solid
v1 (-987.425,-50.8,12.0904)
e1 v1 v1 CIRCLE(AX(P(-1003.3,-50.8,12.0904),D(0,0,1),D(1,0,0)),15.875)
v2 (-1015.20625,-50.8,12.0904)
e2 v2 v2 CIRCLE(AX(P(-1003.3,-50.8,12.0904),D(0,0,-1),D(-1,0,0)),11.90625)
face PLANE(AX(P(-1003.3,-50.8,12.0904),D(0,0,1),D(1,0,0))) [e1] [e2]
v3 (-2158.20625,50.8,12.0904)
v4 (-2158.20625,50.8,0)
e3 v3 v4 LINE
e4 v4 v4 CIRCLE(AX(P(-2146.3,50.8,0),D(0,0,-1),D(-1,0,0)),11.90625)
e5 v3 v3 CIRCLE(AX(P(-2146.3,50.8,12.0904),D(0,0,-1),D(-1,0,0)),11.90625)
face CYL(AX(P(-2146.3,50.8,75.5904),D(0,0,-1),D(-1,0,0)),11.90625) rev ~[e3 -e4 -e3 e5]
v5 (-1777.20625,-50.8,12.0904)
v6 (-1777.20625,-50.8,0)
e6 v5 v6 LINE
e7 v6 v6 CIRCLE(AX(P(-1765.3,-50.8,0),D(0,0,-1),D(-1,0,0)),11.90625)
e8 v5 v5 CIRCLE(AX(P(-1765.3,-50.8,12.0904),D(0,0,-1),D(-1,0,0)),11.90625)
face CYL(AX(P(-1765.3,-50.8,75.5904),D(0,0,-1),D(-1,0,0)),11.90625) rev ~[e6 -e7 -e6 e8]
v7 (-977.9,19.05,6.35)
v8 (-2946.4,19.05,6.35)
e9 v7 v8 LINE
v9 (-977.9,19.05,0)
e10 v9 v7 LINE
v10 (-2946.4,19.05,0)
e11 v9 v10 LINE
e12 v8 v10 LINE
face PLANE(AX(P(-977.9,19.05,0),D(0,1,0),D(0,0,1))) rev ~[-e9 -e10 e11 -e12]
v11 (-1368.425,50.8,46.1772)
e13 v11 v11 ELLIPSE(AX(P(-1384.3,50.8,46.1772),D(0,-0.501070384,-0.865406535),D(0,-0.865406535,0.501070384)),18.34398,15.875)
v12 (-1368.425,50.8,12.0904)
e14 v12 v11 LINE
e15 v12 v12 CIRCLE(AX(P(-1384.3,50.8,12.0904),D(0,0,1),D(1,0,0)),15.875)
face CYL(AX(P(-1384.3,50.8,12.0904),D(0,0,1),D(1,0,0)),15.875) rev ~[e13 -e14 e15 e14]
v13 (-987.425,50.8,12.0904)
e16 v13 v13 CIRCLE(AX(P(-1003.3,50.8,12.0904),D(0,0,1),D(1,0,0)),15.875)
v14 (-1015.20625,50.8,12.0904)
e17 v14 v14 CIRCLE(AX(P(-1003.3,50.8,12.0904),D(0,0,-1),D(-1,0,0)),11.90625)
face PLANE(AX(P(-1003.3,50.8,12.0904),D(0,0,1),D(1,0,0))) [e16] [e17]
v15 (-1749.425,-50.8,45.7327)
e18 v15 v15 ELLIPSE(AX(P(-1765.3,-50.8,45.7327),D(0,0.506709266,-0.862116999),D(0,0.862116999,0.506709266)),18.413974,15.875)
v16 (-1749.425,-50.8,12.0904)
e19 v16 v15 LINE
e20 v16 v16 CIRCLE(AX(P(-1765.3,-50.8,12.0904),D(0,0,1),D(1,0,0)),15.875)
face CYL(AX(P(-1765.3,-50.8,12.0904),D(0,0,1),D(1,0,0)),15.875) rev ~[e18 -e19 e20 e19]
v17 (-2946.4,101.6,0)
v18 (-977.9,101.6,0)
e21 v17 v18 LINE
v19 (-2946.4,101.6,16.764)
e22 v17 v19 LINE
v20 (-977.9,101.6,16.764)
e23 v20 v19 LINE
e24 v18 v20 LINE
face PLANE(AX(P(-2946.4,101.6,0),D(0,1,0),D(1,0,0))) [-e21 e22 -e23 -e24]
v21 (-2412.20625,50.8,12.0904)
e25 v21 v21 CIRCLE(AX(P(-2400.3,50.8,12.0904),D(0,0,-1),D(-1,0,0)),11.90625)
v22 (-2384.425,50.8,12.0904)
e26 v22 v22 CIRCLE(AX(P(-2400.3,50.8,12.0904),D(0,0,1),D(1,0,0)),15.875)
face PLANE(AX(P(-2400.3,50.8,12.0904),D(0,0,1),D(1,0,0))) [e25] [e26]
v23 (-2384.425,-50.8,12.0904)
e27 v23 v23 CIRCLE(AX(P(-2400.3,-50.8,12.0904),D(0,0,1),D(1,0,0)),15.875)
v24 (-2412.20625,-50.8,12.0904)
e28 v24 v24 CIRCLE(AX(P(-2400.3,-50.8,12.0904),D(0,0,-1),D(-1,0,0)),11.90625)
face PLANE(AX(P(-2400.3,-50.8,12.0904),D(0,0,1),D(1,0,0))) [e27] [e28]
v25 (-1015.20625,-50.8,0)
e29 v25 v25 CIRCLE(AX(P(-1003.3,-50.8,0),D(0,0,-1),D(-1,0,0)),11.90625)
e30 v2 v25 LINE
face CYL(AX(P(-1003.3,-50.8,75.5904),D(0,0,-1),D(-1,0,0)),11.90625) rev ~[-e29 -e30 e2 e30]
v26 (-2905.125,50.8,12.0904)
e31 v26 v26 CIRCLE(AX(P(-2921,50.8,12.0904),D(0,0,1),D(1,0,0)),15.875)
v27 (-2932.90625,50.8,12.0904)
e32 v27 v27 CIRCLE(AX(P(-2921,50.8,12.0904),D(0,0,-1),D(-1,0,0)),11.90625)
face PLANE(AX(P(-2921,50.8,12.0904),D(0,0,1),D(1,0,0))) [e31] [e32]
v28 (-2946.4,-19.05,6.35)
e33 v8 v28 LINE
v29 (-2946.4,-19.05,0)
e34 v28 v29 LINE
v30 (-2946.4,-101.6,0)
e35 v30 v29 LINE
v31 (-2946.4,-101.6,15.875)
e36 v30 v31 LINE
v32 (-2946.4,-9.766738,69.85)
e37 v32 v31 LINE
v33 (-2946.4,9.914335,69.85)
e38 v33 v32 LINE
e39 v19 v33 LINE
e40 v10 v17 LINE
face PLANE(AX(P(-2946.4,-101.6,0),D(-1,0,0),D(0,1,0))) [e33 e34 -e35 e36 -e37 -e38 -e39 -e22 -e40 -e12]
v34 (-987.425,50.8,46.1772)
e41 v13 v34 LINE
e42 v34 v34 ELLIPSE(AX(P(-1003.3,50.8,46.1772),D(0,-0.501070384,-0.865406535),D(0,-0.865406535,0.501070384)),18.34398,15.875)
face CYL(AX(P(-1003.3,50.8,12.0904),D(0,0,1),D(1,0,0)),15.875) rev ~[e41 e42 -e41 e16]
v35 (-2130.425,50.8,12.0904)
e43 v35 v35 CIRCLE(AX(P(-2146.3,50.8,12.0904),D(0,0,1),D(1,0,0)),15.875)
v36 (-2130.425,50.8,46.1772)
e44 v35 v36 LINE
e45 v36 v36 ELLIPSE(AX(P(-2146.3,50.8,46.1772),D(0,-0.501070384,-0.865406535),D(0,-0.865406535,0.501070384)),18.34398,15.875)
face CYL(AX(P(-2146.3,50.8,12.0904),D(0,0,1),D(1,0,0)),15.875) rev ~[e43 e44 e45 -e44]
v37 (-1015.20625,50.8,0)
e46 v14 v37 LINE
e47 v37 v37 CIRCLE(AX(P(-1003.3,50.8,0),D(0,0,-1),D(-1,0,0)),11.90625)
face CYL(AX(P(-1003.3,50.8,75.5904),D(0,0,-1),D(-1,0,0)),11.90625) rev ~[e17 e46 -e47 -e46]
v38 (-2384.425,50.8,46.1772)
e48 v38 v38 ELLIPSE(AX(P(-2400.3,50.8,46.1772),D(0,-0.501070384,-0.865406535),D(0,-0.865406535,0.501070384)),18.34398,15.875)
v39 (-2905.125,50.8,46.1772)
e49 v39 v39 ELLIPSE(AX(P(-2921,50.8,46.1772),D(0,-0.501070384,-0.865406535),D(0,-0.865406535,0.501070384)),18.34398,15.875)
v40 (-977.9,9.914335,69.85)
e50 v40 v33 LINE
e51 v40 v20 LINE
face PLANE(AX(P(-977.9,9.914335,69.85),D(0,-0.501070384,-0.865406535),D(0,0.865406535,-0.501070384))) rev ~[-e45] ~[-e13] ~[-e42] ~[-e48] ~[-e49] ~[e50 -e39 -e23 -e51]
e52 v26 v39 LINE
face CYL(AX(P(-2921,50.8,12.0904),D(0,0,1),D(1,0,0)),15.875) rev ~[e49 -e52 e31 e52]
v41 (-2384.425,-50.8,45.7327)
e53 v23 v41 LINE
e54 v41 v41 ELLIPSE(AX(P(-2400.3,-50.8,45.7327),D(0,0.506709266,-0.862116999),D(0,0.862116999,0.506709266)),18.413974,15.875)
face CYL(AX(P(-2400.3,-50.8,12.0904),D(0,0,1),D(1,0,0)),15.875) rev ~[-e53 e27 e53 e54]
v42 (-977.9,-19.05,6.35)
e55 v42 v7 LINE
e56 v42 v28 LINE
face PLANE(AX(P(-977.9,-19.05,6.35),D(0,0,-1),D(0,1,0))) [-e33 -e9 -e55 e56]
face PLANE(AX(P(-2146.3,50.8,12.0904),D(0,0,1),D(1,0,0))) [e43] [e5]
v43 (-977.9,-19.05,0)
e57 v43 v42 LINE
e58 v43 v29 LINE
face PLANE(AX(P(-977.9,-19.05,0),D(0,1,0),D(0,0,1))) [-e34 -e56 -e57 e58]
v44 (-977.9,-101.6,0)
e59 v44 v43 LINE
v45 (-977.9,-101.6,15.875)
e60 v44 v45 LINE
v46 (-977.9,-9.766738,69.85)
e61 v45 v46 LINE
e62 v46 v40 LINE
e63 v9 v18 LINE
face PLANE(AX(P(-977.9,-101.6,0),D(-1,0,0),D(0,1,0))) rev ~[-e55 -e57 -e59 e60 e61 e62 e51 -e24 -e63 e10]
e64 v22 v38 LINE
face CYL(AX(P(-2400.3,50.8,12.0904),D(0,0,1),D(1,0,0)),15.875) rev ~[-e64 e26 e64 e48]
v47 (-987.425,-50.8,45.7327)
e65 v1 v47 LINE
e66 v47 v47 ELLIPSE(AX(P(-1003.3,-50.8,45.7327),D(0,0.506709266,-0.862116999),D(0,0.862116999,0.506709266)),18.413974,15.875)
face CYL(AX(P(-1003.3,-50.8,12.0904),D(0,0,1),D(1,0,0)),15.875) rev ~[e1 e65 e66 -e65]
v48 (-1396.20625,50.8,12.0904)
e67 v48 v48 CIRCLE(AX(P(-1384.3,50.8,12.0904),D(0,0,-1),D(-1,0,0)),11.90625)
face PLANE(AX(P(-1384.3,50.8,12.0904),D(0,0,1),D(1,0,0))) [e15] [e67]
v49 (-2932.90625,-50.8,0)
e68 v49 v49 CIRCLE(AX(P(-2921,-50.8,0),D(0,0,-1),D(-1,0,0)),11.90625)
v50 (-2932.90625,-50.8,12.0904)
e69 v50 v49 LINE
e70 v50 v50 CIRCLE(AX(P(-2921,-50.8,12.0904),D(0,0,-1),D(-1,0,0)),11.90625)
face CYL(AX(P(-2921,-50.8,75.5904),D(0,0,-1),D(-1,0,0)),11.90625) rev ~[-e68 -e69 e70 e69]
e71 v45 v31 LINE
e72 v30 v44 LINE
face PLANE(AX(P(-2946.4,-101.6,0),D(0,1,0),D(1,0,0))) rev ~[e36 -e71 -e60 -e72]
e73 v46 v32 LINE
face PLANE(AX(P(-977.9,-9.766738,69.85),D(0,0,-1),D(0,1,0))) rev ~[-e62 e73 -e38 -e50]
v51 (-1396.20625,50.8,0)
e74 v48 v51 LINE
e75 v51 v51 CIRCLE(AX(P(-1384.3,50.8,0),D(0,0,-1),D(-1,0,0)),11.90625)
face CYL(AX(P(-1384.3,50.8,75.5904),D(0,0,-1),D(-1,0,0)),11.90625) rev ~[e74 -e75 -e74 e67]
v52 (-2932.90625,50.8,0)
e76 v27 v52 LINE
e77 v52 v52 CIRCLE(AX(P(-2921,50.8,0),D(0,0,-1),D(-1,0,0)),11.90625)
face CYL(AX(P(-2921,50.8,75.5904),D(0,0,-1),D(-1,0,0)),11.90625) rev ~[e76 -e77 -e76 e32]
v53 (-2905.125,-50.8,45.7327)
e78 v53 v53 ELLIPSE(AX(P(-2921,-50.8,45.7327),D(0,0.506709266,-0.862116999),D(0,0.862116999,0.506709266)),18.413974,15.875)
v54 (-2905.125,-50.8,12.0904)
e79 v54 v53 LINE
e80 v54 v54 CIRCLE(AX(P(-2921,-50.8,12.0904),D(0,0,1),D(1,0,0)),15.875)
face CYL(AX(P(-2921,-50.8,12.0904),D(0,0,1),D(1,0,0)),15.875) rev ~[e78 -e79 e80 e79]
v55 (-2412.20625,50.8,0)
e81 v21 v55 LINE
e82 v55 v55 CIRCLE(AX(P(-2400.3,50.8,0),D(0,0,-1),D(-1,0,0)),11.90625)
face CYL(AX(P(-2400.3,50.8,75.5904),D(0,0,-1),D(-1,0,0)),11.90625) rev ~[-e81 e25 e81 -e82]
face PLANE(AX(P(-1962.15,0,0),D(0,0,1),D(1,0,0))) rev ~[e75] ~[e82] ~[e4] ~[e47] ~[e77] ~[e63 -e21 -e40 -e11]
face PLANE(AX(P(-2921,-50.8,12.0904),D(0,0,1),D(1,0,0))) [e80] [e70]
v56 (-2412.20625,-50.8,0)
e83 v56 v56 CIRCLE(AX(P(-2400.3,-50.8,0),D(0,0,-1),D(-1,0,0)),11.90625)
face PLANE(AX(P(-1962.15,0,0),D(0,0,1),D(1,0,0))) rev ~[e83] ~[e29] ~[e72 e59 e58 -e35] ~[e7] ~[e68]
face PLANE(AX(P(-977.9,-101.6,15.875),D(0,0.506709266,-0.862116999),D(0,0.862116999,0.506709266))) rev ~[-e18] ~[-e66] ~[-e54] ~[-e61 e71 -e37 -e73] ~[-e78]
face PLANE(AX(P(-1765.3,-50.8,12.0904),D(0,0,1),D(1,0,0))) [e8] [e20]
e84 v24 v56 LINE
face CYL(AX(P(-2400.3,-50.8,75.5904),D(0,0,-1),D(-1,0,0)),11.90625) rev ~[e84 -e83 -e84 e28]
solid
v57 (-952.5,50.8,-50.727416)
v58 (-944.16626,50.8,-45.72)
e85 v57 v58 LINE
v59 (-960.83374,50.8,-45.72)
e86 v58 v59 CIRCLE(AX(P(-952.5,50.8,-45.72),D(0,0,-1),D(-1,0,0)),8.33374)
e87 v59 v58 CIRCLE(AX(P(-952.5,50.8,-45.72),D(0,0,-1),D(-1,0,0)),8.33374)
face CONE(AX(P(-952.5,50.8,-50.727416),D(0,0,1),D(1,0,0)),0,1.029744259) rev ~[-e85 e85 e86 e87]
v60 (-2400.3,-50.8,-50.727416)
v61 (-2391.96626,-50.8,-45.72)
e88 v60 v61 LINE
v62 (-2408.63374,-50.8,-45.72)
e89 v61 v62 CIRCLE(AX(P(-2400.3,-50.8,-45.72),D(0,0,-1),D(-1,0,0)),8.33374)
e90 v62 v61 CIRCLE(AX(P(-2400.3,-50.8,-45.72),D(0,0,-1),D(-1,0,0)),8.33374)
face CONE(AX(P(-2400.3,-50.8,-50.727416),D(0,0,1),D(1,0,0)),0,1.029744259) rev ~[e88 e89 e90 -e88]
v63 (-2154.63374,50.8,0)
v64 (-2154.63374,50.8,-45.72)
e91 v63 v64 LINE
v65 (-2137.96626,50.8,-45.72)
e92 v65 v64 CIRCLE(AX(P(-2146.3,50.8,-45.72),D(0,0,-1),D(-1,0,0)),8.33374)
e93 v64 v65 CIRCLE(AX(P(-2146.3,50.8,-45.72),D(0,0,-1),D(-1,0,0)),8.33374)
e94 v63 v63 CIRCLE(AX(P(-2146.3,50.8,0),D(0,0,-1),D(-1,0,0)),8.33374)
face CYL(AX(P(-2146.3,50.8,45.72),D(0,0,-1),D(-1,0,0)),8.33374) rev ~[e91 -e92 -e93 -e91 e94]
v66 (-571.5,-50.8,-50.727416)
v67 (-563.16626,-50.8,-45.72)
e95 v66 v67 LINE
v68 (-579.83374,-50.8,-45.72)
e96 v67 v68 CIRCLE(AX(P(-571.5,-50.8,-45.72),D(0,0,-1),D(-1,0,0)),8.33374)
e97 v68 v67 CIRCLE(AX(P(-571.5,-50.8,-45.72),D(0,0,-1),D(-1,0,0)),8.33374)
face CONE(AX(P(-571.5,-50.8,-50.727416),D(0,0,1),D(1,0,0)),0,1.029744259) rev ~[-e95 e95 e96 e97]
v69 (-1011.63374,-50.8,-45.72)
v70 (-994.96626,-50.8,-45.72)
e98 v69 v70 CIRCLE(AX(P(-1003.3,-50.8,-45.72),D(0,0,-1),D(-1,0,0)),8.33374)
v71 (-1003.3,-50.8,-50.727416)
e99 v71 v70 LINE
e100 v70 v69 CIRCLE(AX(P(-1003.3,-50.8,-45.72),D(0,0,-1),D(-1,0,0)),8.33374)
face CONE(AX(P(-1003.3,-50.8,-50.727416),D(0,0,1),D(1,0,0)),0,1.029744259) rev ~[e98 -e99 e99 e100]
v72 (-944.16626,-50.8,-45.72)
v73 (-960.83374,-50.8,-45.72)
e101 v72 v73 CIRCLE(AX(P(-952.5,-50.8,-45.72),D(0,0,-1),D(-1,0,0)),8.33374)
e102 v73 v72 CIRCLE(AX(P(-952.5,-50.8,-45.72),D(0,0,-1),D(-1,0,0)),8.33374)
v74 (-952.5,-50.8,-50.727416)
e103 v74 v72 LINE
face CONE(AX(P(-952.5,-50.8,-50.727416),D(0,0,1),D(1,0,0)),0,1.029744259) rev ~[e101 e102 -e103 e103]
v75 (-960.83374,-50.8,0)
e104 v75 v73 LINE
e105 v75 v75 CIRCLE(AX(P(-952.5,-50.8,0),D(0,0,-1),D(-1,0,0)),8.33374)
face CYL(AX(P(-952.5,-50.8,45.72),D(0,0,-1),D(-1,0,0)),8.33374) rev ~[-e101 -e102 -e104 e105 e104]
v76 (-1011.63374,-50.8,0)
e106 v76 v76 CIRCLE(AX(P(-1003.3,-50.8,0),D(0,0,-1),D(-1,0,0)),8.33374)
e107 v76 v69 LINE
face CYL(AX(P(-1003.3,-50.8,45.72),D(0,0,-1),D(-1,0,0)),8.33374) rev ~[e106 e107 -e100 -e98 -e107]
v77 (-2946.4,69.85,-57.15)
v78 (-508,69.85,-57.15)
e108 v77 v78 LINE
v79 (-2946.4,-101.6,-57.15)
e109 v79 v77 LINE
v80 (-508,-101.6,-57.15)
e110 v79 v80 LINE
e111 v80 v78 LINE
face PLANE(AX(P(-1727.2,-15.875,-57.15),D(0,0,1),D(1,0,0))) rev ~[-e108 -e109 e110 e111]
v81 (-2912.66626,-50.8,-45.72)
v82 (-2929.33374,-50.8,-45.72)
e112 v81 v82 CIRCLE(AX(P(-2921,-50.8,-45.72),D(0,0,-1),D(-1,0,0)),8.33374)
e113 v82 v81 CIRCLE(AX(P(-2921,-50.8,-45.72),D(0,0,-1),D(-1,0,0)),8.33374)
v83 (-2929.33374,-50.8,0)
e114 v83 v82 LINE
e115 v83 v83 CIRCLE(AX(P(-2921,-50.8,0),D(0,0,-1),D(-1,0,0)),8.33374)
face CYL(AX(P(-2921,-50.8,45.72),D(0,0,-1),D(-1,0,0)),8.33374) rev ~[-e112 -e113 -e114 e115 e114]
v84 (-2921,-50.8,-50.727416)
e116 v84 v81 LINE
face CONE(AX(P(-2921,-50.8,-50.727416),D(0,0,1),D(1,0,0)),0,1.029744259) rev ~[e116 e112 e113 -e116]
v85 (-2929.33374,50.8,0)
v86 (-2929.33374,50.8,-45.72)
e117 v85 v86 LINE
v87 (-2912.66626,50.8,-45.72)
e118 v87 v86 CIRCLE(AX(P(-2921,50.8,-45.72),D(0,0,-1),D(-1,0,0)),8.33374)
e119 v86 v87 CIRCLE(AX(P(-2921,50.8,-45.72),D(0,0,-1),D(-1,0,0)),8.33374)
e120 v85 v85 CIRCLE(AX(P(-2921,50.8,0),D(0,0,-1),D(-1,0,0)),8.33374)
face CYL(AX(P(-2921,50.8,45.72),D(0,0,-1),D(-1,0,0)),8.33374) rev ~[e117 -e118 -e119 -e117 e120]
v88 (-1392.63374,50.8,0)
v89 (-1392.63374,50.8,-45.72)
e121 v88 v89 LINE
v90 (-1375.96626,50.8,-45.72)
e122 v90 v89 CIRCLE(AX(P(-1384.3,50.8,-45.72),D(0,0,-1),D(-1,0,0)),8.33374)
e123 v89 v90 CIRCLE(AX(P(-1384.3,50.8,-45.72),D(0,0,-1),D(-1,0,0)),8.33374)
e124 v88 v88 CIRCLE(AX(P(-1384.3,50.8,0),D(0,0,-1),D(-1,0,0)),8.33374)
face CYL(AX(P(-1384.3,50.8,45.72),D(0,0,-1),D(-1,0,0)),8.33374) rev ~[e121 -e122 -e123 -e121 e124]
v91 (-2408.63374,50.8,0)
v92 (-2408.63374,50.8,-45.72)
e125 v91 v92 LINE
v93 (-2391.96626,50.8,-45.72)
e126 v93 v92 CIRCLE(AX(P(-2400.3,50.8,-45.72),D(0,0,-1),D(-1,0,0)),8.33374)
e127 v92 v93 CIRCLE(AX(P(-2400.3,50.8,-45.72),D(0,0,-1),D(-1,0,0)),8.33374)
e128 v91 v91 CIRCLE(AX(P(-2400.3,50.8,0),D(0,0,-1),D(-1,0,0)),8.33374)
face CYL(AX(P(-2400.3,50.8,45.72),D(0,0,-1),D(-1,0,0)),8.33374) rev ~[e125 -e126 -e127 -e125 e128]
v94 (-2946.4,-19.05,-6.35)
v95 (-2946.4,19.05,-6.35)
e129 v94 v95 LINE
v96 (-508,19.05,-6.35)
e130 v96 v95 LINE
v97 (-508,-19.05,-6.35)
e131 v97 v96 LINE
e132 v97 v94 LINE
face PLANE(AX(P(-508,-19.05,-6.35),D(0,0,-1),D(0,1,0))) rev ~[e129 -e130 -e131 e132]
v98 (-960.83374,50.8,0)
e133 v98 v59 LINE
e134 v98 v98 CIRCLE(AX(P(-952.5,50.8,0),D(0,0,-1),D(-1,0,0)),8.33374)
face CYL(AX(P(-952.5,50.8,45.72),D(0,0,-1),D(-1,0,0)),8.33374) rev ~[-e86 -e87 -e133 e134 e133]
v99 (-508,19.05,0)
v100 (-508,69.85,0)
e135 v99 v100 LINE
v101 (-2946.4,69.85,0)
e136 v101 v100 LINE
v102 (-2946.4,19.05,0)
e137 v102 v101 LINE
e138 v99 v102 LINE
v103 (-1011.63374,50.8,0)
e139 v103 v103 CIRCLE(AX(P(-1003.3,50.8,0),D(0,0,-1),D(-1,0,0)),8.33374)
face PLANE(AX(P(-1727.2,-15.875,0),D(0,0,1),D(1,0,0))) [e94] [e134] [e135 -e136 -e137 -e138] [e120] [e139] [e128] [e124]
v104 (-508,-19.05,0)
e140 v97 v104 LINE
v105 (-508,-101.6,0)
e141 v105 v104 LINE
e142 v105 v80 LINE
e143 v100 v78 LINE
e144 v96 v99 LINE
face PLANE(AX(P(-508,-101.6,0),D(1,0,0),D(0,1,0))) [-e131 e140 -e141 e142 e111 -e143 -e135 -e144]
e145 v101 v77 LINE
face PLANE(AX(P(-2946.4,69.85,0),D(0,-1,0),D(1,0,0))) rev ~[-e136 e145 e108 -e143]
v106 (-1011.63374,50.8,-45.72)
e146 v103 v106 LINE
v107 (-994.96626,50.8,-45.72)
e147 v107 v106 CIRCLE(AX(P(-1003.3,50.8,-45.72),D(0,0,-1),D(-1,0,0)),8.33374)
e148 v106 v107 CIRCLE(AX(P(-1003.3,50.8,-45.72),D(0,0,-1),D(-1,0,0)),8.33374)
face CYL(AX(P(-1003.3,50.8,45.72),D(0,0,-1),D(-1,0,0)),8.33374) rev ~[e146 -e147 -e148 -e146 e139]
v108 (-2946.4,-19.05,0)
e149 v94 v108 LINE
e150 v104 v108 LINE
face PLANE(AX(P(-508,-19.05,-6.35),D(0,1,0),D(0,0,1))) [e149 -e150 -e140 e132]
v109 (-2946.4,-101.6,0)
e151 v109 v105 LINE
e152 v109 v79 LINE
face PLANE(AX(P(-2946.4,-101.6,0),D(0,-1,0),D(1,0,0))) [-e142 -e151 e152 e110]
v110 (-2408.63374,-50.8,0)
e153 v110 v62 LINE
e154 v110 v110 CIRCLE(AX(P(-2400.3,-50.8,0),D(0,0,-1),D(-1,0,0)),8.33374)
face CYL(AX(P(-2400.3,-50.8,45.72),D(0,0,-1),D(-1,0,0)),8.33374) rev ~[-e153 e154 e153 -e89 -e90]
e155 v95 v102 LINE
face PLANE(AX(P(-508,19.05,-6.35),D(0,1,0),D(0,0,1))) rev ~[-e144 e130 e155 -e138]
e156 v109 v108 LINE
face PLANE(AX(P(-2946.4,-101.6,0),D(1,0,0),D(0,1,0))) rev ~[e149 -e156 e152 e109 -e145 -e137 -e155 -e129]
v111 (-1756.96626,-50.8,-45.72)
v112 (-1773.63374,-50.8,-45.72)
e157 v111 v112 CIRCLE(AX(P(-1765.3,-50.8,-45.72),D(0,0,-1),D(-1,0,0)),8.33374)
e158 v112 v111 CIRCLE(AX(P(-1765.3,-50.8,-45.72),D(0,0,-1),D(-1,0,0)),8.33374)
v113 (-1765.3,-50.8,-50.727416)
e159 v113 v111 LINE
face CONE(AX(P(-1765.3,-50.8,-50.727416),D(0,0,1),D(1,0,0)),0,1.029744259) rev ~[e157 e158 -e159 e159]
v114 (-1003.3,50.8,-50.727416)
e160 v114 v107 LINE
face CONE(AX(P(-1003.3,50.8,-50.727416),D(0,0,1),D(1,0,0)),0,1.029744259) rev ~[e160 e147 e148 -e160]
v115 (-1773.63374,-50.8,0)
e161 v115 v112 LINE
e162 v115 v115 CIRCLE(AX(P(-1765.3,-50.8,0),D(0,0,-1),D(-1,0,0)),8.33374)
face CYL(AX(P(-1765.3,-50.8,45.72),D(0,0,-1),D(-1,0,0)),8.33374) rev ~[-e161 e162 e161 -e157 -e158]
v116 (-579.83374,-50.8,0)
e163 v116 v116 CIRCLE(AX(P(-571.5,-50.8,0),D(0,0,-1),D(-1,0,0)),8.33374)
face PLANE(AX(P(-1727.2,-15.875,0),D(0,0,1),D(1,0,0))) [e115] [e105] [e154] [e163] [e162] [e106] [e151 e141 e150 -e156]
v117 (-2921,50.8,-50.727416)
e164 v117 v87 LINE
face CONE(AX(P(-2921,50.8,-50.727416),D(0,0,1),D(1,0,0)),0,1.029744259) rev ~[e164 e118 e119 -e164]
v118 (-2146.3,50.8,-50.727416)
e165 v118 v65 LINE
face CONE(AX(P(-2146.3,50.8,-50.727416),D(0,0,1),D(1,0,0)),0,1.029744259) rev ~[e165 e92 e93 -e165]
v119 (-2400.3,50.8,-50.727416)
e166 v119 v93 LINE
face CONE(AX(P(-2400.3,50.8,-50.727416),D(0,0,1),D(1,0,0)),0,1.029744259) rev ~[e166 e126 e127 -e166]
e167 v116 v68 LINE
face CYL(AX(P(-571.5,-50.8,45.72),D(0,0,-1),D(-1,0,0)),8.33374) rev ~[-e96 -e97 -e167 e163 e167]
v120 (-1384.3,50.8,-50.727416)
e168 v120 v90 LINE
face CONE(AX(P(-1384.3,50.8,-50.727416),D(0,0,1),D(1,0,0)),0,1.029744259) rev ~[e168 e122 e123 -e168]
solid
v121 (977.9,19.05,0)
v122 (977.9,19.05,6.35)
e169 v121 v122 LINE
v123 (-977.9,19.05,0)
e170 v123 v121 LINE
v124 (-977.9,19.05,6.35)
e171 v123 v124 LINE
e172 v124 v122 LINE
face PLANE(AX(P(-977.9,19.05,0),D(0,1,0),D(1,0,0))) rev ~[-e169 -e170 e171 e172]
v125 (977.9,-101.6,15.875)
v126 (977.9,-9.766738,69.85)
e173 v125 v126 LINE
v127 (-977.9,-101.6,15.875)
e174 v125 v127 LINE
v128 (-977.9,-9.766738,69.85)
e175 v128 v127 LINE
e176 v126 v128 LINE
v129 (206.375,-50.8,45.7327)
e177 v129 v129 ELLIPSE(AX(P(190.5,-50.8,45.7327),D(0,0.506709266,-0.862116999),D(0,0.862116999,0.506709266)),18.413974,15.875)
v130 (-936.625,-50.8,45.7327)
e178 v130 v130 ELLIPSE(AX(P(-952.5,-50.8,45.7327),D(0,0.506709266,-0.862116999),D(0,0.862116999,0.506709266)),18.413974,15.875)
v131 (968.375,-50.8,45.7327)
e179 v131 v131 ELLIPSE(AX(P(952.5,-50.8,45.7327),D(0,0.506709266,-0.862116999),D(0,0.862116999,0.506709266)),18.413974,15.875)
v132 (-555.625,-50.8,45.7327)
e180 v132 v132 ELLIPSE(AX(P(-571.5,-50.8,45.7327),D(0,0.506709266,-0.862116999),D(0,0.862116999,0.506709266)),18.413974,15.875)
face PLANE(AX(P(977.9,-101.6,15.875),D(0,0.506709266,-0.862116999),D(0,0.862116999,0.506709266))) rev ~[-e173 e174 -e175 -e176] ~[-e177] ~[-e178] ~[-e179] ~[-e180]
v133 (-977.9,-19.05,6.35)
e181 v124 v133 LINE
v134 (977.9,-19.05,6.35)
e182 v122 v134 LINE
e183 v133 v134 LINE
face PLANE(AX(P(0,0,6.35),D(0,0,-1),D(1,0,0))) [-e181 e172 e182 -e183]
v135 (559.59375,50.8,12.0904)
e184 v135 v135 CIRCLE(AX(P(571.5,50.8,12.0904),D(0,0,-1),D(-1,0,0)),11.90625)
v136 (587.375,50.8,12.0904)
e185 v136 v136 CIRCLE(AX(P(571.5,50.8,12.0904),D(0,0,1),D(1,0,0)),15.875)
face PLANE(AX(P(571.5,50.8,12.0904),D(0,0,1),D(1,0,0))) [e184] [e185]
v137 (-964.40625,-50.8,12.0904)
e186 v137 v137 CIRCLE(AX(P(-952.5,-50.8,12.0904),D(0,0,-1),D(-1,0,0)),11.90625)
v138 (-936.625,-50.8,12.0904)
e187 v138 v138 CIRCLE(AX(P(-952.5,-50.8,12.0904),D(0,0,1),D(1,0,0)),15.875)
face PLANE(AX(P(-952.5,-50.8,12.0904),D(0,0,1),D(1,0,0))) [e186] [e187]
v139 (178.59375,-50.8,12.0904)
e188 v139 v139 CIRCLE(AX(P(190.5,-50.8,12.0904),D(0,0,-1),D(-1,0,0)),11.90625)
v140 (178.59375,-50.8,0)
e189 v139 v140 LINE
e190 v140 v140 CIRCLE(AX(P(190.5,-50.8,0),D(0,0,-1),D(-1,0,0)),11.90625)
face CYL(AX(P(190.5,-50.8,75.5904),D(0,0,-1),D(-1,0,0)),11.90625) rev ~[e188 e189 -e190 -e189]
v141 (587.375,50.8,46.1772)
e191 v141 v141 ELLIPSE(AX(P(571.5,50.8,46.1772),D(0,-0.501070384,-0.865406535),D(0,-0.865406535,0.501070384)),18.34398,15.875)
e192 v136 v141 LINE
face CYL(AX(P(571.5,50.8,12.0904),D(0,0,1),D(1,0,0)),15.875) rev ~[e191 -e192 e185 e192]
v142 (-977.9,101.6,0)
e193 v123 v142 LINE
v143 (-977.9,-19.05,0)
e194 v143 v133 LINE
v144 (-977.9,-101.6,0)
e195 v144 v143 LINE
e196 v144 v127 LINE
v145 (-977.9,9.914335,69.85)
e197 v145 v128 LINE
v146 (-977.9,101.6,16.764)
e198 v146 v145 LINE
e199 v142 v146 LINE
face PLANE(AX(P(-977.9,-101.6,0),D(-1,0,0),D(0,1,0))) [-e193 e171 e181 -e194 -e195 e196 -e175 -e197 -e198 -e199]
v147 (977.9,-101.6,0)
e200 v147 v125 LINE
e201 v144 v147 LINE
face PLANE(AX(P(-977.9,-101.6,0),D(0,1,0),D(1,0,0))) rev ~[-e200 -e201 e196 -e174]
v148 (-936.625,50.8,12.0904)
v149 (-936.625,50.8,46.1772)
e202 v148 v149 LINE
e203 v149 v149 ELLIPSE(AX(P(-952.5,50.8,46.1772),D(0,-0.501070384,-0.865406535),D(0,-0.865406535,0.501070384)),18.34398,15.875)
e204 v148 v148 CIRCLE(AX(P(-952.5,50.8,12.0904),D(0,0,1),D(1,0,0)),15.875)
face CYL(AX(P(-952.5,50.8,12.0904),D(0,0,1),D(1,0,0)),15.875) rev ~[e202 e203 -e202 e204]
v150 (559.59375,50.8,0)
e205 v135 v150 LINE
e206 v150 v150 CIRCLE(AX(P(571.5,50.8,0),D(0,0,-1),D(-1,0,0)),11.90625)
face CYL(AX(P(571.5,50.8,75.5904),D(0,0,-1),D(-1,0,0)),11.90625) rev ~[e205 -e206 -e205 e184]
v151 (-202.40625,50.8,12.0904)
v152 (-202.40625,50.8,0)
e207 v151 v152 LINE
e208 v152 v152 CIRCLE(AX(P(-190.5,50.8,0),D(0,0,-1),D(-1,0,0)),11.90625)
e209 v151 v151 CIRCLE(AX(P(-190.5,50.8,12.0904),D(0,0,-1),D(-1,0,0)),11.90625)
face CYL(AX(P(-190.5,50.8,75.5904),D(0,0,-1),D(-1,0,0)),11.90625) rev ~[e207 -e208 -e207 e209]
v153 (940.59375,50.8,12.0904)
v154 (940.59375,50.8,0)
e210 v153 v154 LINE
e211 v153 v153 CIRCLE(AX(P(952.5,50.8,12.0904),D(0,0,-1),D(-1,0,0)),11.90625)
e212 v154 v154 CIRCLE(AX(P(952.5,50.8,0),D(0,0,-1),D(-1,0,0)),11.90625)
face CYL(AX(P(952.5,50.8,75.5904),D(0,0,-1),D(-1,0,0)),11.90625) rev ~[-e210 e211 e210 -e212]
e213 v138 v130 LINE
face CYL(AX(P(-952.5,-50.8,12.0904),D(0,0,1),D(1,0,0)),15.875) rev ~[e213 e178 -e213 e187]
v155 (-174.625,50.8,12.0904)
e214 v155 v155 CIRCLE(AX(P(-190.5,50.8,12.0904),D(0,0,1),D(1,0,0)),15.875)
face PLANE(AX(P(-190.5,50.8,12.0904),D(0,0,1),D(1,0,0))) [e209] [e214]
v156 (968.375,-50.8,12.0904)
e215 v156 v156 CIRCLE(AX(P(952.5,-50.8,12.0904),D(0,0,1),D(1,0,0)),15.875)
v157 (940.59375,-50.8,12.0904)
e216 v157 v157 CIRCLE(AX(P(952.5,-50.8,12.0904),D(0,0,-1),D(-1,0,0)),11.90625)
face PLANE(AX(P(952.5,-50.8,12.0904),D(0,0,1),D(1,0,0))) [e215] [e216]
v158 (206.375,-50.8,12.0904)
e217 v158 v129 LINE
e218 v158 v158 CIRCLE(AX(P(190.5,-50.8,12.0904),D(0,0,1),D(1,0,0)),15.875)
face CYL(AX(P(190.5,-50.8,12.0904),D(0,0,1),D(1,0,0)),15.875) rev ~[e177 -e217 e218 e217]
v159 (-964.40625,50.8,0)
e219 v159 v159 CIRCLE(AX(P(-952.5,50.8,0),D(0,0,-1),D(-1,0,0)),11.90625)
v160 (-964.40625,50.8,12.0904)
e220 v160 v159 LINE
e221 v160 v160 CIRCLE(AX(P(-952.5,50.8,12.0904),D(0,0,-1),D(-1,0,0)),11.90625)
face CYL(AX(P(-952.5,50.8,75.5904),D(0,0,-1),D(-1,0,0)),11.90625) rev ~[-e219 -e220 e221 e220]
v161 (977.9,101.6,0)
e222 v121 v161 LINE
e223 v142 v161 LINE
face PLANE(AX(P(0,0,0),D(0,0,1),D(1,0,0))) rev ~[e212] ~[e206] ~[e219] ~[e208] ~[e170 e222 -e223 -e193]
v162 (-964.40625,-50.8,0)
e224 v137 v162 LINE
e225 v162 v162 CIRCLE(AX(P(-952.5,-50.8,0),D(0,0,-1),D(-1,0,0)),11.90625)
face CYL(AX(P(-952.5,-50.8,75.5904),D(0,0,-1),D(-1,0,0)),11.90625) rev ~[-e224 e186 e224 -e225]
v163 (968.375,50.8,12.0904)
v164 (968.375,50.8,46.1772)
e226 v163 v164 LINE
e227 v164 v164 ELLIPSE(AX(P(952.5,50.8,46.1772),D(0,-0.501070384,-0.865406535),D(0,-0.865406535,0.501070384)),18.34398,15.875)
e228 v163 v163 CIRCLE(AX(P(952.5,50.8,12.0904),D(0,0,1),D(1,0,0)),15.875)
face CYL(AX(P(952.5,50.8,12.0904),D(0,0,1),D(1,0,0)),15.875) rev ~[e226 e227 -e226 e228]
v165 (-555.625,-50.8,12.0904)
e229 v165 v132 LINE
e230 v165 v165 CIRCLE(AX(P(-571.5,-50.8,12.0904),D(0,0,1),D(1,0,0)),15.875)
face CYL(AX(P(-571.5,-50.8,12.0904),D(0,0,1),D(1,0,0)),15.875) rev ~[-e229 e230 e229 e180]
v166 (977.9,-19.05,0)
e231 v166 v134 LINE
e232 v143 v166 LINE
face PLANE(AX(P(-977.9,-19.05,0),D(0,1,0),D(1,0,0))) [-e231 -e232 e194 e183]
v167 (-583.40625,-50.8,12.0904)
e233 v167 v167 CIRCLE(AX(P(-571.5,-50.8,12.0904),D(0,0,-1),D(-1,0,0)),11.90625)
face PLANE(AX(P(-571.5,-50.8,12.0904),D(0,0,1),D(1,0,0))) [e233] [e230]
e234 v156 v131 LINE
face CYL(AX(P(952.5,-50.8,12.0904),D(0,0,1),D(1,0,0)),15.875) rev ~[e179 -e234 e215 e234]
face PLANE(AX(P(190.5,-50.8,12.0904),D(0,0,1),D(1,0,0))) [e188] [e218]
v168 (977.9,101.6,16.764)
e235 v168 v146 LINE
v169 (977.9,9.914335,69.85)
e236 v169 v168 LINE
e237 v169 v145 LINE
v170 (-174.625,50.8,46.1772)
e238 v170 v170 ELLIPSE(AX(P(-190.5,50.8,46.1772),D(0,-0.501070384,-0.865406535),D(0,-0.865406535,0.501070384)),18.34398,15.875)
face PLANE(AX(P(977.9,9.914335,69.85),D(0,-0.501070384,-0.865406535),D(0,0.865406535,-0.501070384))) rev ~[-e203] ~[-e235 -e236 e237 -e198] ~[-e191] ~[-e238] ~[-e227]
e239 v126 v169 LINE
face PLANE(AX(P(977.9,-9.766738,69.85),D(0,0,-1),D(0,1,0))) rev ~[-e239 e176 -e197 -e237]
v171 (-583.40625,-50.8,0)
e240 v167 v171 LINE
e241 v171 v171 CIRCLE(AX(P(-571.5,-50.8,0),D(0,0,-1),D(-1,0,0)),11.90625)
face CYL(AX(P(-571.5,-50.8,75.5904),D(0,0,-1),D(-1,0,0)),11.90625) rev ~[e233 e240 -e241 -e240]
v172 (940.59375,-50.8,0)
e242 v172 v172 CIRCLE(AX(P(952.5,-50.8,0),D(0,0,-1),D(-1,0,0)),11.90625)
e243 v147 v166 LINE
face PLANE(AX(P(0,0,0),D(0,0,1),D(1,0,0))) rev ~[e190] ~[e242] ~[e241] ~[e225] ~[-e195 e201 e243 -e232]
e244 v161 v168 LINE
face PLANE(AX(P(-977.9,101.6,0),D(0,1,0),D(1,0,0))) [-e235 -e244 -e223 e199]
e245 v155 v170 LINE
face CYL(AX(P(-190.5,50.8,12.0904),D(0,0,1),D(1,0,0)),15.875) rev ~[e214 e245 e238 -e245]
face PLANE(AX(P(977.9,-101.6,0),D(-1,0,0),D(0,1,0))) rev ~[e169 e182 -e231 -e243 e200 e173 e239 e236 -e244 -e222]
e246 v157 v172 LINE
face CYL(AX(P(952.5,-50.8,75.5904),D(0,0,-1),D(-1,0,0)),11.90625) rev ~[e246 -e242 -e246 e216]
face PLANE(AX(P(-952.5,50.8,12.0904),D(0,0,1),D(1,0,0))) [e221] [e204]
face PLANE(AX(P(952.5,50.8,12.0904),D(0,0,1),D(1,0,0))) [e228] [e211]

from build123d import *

# Parameters (mm, degrees)
F0_W            = 1955.8
F0_H            = 203.2
F1_DEPTH        = 75.5904
F3_D            = 23.8125
F3_CBORE_D      = 31.75
F3_CBORE_DEPTH  = 63.5
F5_DEPTH        = 1955.801
F6_W            = 1955.8
F6_H            = 38.1
F7_DEPTH        = 6.35
F8_W            = 1968.5
F8_H            = 203.2
F10_DEPTH       = 75.5904
F12_D           = 23.8125
F12_CBORE_D     = 31.75
F12_CBORE_DEPTH = 63.5
F14_DEPTH       = 1968.501
F15_W           = 2438.4
F15_H           = 171.45
F16_DEPTH       = 57.15
F17_D           = 16.66748
F17_DEPTH       = 45.72
F17_TIP         = 5.0074161752
F18_W           = 38.1
F18_H           = 6.35
F19_DEPTH       = 1968.501
F20_W           = 38.1
F20_H           = 6.35
F21_DEPTH       = 2438.401


with BuildPart() as f1:
    # F0 (on Top) → F1 (new body)
    with BuildSketch(Plane.XY):
        Rectangle(F0_W, F0_H)
    extrude(amount=F1_DEPTH)

    # F3 (through all)
    with Locations(Plane.XY.offset(75.5904)):
        with Locations((-952.5, 50.8), (-952.5, -50.8), (-571.5, -50.8), (-190.5, 50.8), (190.5, -50.8), (571.5, 50.8), (952.5, -50.8), (952.5, 50.8)):
            CounterBoreHole(F3_D / 2, F3_CBORE_D / 2, F3_CBORE_DEPTH)

    # F4 (on face) → F5 (cut, through all)
    with BuildSketch(Plane.YZ.offset(977.9)):
        Polygon((9.9143350604, 69.85), (101.6, 16.764), (101.6, 75.5904), (-101.6, 75.5904), (-101.6, 15.875), (-9.7667375585, 69.85), align=None)
    extrude(amount=-F5_DEPTH, mode=Mode.SUBTRACT)

    # F6 (on face) → F7 (cut)
    with BuildSketch(Plane(origin=(0, 0, 0), x_dir=(1, 0, 0), z_dir=(0, 0, -1))):
        Rectangle(F6_W, F6_H)
    extrude(amount=-F7_DEPTH, mode=Mode.SUBTRACT)


with BuildPart() as f10:
    # F8 (on Top) → F10 (new body)
    with BuildSketch(Plane.XY):
        with Locations((-1962.15, 0)):
            Rectangle(F8_W, F8_H)
    extrude(amount=F10_DEPTH)

    # F12 (through all)
    with Locations(Plane.XY.offset(75.5904)):
        with Locations((-1003.3, 50.8), (-1003.3, -50.8), (-1384.3, 50.8), (-1765.3, -50.8), (-2146.3, 50.8), (-2400.3, 50.8), (-2400.3, -50.8), (-2921, 50.8), (-2921, -50.8)):
            CounterBoreHole(F12_D / 2, F12_CBORE_D / 2, F12_CBORE_DEPTH)

    # F13 (on face) → F14 (cut, through all)
    with BuildSketch(Plane.YZ.offset(-977.9)):
        Polygon((-101.6, 75.5904), (-101.6, 15.875), (-9.7667375585, 69.85), (9.9143350604, 69.85), (101.6, 16.764), (101.6, 75.5904), align=None)
    extrude(amount=-F14_DEPTH, mode=Mode.SUBTRACT)

    # F18 (on face) → F19 (cut, through all)
    with BuildSketch(Plane.YZ.offset(-977.9)):
        with Locations((0, 3.175)):
            Rectangle(F18_W, F18_H)
    extrude(amount=-F19_DEPTH, mode=Mode.SUBTRACT)


with BuildPart() as f16:
    # F15 (on Top) → F16 (new body)
    with BuildSketch(Plane.XY):
        with Locations((-1727.2, -15.875)):
            Rectangle(F15_W, F15_H)
    extrude(amount=-F16_DEPTH)

    # F17
    with Locations(Plane.XY):
        with Locations((-571.5, -50.8), (-952.5, -50.8), (-952.5, 50.8), (-1003.3, 50.8), (-1003.3, -50.8), (-1384.3, 50.8), (-1765.3, -50.8), (-2146.3, 50.8), (-2400.3, 50.8), (-2400.3, -50.8), (-2921, 50.8), (-2921, -50.8)):
            Hole(F17_D / 2, depth=F17_DEPTH)
            with Locations((0, 0, -(F17_DEPTH + F17_TIP / 2))):  # 118° drill point
                Cone(0, F17_D / 2, F17_TIP, mode=Mode.SUBTRACT)

    # F20 (on face) → F21 (cut, through all)
    with BuildSketch(Plane.YZ.offset(-508)):
        with Locations((0, -3.175)):
            Rectangle(F20_W, F20_H)
    extrude(amount=-F21_DEPTH, mode=Mode.SUBTRACT)


solid = Compound([f1.part, f10.part, f16.part])
